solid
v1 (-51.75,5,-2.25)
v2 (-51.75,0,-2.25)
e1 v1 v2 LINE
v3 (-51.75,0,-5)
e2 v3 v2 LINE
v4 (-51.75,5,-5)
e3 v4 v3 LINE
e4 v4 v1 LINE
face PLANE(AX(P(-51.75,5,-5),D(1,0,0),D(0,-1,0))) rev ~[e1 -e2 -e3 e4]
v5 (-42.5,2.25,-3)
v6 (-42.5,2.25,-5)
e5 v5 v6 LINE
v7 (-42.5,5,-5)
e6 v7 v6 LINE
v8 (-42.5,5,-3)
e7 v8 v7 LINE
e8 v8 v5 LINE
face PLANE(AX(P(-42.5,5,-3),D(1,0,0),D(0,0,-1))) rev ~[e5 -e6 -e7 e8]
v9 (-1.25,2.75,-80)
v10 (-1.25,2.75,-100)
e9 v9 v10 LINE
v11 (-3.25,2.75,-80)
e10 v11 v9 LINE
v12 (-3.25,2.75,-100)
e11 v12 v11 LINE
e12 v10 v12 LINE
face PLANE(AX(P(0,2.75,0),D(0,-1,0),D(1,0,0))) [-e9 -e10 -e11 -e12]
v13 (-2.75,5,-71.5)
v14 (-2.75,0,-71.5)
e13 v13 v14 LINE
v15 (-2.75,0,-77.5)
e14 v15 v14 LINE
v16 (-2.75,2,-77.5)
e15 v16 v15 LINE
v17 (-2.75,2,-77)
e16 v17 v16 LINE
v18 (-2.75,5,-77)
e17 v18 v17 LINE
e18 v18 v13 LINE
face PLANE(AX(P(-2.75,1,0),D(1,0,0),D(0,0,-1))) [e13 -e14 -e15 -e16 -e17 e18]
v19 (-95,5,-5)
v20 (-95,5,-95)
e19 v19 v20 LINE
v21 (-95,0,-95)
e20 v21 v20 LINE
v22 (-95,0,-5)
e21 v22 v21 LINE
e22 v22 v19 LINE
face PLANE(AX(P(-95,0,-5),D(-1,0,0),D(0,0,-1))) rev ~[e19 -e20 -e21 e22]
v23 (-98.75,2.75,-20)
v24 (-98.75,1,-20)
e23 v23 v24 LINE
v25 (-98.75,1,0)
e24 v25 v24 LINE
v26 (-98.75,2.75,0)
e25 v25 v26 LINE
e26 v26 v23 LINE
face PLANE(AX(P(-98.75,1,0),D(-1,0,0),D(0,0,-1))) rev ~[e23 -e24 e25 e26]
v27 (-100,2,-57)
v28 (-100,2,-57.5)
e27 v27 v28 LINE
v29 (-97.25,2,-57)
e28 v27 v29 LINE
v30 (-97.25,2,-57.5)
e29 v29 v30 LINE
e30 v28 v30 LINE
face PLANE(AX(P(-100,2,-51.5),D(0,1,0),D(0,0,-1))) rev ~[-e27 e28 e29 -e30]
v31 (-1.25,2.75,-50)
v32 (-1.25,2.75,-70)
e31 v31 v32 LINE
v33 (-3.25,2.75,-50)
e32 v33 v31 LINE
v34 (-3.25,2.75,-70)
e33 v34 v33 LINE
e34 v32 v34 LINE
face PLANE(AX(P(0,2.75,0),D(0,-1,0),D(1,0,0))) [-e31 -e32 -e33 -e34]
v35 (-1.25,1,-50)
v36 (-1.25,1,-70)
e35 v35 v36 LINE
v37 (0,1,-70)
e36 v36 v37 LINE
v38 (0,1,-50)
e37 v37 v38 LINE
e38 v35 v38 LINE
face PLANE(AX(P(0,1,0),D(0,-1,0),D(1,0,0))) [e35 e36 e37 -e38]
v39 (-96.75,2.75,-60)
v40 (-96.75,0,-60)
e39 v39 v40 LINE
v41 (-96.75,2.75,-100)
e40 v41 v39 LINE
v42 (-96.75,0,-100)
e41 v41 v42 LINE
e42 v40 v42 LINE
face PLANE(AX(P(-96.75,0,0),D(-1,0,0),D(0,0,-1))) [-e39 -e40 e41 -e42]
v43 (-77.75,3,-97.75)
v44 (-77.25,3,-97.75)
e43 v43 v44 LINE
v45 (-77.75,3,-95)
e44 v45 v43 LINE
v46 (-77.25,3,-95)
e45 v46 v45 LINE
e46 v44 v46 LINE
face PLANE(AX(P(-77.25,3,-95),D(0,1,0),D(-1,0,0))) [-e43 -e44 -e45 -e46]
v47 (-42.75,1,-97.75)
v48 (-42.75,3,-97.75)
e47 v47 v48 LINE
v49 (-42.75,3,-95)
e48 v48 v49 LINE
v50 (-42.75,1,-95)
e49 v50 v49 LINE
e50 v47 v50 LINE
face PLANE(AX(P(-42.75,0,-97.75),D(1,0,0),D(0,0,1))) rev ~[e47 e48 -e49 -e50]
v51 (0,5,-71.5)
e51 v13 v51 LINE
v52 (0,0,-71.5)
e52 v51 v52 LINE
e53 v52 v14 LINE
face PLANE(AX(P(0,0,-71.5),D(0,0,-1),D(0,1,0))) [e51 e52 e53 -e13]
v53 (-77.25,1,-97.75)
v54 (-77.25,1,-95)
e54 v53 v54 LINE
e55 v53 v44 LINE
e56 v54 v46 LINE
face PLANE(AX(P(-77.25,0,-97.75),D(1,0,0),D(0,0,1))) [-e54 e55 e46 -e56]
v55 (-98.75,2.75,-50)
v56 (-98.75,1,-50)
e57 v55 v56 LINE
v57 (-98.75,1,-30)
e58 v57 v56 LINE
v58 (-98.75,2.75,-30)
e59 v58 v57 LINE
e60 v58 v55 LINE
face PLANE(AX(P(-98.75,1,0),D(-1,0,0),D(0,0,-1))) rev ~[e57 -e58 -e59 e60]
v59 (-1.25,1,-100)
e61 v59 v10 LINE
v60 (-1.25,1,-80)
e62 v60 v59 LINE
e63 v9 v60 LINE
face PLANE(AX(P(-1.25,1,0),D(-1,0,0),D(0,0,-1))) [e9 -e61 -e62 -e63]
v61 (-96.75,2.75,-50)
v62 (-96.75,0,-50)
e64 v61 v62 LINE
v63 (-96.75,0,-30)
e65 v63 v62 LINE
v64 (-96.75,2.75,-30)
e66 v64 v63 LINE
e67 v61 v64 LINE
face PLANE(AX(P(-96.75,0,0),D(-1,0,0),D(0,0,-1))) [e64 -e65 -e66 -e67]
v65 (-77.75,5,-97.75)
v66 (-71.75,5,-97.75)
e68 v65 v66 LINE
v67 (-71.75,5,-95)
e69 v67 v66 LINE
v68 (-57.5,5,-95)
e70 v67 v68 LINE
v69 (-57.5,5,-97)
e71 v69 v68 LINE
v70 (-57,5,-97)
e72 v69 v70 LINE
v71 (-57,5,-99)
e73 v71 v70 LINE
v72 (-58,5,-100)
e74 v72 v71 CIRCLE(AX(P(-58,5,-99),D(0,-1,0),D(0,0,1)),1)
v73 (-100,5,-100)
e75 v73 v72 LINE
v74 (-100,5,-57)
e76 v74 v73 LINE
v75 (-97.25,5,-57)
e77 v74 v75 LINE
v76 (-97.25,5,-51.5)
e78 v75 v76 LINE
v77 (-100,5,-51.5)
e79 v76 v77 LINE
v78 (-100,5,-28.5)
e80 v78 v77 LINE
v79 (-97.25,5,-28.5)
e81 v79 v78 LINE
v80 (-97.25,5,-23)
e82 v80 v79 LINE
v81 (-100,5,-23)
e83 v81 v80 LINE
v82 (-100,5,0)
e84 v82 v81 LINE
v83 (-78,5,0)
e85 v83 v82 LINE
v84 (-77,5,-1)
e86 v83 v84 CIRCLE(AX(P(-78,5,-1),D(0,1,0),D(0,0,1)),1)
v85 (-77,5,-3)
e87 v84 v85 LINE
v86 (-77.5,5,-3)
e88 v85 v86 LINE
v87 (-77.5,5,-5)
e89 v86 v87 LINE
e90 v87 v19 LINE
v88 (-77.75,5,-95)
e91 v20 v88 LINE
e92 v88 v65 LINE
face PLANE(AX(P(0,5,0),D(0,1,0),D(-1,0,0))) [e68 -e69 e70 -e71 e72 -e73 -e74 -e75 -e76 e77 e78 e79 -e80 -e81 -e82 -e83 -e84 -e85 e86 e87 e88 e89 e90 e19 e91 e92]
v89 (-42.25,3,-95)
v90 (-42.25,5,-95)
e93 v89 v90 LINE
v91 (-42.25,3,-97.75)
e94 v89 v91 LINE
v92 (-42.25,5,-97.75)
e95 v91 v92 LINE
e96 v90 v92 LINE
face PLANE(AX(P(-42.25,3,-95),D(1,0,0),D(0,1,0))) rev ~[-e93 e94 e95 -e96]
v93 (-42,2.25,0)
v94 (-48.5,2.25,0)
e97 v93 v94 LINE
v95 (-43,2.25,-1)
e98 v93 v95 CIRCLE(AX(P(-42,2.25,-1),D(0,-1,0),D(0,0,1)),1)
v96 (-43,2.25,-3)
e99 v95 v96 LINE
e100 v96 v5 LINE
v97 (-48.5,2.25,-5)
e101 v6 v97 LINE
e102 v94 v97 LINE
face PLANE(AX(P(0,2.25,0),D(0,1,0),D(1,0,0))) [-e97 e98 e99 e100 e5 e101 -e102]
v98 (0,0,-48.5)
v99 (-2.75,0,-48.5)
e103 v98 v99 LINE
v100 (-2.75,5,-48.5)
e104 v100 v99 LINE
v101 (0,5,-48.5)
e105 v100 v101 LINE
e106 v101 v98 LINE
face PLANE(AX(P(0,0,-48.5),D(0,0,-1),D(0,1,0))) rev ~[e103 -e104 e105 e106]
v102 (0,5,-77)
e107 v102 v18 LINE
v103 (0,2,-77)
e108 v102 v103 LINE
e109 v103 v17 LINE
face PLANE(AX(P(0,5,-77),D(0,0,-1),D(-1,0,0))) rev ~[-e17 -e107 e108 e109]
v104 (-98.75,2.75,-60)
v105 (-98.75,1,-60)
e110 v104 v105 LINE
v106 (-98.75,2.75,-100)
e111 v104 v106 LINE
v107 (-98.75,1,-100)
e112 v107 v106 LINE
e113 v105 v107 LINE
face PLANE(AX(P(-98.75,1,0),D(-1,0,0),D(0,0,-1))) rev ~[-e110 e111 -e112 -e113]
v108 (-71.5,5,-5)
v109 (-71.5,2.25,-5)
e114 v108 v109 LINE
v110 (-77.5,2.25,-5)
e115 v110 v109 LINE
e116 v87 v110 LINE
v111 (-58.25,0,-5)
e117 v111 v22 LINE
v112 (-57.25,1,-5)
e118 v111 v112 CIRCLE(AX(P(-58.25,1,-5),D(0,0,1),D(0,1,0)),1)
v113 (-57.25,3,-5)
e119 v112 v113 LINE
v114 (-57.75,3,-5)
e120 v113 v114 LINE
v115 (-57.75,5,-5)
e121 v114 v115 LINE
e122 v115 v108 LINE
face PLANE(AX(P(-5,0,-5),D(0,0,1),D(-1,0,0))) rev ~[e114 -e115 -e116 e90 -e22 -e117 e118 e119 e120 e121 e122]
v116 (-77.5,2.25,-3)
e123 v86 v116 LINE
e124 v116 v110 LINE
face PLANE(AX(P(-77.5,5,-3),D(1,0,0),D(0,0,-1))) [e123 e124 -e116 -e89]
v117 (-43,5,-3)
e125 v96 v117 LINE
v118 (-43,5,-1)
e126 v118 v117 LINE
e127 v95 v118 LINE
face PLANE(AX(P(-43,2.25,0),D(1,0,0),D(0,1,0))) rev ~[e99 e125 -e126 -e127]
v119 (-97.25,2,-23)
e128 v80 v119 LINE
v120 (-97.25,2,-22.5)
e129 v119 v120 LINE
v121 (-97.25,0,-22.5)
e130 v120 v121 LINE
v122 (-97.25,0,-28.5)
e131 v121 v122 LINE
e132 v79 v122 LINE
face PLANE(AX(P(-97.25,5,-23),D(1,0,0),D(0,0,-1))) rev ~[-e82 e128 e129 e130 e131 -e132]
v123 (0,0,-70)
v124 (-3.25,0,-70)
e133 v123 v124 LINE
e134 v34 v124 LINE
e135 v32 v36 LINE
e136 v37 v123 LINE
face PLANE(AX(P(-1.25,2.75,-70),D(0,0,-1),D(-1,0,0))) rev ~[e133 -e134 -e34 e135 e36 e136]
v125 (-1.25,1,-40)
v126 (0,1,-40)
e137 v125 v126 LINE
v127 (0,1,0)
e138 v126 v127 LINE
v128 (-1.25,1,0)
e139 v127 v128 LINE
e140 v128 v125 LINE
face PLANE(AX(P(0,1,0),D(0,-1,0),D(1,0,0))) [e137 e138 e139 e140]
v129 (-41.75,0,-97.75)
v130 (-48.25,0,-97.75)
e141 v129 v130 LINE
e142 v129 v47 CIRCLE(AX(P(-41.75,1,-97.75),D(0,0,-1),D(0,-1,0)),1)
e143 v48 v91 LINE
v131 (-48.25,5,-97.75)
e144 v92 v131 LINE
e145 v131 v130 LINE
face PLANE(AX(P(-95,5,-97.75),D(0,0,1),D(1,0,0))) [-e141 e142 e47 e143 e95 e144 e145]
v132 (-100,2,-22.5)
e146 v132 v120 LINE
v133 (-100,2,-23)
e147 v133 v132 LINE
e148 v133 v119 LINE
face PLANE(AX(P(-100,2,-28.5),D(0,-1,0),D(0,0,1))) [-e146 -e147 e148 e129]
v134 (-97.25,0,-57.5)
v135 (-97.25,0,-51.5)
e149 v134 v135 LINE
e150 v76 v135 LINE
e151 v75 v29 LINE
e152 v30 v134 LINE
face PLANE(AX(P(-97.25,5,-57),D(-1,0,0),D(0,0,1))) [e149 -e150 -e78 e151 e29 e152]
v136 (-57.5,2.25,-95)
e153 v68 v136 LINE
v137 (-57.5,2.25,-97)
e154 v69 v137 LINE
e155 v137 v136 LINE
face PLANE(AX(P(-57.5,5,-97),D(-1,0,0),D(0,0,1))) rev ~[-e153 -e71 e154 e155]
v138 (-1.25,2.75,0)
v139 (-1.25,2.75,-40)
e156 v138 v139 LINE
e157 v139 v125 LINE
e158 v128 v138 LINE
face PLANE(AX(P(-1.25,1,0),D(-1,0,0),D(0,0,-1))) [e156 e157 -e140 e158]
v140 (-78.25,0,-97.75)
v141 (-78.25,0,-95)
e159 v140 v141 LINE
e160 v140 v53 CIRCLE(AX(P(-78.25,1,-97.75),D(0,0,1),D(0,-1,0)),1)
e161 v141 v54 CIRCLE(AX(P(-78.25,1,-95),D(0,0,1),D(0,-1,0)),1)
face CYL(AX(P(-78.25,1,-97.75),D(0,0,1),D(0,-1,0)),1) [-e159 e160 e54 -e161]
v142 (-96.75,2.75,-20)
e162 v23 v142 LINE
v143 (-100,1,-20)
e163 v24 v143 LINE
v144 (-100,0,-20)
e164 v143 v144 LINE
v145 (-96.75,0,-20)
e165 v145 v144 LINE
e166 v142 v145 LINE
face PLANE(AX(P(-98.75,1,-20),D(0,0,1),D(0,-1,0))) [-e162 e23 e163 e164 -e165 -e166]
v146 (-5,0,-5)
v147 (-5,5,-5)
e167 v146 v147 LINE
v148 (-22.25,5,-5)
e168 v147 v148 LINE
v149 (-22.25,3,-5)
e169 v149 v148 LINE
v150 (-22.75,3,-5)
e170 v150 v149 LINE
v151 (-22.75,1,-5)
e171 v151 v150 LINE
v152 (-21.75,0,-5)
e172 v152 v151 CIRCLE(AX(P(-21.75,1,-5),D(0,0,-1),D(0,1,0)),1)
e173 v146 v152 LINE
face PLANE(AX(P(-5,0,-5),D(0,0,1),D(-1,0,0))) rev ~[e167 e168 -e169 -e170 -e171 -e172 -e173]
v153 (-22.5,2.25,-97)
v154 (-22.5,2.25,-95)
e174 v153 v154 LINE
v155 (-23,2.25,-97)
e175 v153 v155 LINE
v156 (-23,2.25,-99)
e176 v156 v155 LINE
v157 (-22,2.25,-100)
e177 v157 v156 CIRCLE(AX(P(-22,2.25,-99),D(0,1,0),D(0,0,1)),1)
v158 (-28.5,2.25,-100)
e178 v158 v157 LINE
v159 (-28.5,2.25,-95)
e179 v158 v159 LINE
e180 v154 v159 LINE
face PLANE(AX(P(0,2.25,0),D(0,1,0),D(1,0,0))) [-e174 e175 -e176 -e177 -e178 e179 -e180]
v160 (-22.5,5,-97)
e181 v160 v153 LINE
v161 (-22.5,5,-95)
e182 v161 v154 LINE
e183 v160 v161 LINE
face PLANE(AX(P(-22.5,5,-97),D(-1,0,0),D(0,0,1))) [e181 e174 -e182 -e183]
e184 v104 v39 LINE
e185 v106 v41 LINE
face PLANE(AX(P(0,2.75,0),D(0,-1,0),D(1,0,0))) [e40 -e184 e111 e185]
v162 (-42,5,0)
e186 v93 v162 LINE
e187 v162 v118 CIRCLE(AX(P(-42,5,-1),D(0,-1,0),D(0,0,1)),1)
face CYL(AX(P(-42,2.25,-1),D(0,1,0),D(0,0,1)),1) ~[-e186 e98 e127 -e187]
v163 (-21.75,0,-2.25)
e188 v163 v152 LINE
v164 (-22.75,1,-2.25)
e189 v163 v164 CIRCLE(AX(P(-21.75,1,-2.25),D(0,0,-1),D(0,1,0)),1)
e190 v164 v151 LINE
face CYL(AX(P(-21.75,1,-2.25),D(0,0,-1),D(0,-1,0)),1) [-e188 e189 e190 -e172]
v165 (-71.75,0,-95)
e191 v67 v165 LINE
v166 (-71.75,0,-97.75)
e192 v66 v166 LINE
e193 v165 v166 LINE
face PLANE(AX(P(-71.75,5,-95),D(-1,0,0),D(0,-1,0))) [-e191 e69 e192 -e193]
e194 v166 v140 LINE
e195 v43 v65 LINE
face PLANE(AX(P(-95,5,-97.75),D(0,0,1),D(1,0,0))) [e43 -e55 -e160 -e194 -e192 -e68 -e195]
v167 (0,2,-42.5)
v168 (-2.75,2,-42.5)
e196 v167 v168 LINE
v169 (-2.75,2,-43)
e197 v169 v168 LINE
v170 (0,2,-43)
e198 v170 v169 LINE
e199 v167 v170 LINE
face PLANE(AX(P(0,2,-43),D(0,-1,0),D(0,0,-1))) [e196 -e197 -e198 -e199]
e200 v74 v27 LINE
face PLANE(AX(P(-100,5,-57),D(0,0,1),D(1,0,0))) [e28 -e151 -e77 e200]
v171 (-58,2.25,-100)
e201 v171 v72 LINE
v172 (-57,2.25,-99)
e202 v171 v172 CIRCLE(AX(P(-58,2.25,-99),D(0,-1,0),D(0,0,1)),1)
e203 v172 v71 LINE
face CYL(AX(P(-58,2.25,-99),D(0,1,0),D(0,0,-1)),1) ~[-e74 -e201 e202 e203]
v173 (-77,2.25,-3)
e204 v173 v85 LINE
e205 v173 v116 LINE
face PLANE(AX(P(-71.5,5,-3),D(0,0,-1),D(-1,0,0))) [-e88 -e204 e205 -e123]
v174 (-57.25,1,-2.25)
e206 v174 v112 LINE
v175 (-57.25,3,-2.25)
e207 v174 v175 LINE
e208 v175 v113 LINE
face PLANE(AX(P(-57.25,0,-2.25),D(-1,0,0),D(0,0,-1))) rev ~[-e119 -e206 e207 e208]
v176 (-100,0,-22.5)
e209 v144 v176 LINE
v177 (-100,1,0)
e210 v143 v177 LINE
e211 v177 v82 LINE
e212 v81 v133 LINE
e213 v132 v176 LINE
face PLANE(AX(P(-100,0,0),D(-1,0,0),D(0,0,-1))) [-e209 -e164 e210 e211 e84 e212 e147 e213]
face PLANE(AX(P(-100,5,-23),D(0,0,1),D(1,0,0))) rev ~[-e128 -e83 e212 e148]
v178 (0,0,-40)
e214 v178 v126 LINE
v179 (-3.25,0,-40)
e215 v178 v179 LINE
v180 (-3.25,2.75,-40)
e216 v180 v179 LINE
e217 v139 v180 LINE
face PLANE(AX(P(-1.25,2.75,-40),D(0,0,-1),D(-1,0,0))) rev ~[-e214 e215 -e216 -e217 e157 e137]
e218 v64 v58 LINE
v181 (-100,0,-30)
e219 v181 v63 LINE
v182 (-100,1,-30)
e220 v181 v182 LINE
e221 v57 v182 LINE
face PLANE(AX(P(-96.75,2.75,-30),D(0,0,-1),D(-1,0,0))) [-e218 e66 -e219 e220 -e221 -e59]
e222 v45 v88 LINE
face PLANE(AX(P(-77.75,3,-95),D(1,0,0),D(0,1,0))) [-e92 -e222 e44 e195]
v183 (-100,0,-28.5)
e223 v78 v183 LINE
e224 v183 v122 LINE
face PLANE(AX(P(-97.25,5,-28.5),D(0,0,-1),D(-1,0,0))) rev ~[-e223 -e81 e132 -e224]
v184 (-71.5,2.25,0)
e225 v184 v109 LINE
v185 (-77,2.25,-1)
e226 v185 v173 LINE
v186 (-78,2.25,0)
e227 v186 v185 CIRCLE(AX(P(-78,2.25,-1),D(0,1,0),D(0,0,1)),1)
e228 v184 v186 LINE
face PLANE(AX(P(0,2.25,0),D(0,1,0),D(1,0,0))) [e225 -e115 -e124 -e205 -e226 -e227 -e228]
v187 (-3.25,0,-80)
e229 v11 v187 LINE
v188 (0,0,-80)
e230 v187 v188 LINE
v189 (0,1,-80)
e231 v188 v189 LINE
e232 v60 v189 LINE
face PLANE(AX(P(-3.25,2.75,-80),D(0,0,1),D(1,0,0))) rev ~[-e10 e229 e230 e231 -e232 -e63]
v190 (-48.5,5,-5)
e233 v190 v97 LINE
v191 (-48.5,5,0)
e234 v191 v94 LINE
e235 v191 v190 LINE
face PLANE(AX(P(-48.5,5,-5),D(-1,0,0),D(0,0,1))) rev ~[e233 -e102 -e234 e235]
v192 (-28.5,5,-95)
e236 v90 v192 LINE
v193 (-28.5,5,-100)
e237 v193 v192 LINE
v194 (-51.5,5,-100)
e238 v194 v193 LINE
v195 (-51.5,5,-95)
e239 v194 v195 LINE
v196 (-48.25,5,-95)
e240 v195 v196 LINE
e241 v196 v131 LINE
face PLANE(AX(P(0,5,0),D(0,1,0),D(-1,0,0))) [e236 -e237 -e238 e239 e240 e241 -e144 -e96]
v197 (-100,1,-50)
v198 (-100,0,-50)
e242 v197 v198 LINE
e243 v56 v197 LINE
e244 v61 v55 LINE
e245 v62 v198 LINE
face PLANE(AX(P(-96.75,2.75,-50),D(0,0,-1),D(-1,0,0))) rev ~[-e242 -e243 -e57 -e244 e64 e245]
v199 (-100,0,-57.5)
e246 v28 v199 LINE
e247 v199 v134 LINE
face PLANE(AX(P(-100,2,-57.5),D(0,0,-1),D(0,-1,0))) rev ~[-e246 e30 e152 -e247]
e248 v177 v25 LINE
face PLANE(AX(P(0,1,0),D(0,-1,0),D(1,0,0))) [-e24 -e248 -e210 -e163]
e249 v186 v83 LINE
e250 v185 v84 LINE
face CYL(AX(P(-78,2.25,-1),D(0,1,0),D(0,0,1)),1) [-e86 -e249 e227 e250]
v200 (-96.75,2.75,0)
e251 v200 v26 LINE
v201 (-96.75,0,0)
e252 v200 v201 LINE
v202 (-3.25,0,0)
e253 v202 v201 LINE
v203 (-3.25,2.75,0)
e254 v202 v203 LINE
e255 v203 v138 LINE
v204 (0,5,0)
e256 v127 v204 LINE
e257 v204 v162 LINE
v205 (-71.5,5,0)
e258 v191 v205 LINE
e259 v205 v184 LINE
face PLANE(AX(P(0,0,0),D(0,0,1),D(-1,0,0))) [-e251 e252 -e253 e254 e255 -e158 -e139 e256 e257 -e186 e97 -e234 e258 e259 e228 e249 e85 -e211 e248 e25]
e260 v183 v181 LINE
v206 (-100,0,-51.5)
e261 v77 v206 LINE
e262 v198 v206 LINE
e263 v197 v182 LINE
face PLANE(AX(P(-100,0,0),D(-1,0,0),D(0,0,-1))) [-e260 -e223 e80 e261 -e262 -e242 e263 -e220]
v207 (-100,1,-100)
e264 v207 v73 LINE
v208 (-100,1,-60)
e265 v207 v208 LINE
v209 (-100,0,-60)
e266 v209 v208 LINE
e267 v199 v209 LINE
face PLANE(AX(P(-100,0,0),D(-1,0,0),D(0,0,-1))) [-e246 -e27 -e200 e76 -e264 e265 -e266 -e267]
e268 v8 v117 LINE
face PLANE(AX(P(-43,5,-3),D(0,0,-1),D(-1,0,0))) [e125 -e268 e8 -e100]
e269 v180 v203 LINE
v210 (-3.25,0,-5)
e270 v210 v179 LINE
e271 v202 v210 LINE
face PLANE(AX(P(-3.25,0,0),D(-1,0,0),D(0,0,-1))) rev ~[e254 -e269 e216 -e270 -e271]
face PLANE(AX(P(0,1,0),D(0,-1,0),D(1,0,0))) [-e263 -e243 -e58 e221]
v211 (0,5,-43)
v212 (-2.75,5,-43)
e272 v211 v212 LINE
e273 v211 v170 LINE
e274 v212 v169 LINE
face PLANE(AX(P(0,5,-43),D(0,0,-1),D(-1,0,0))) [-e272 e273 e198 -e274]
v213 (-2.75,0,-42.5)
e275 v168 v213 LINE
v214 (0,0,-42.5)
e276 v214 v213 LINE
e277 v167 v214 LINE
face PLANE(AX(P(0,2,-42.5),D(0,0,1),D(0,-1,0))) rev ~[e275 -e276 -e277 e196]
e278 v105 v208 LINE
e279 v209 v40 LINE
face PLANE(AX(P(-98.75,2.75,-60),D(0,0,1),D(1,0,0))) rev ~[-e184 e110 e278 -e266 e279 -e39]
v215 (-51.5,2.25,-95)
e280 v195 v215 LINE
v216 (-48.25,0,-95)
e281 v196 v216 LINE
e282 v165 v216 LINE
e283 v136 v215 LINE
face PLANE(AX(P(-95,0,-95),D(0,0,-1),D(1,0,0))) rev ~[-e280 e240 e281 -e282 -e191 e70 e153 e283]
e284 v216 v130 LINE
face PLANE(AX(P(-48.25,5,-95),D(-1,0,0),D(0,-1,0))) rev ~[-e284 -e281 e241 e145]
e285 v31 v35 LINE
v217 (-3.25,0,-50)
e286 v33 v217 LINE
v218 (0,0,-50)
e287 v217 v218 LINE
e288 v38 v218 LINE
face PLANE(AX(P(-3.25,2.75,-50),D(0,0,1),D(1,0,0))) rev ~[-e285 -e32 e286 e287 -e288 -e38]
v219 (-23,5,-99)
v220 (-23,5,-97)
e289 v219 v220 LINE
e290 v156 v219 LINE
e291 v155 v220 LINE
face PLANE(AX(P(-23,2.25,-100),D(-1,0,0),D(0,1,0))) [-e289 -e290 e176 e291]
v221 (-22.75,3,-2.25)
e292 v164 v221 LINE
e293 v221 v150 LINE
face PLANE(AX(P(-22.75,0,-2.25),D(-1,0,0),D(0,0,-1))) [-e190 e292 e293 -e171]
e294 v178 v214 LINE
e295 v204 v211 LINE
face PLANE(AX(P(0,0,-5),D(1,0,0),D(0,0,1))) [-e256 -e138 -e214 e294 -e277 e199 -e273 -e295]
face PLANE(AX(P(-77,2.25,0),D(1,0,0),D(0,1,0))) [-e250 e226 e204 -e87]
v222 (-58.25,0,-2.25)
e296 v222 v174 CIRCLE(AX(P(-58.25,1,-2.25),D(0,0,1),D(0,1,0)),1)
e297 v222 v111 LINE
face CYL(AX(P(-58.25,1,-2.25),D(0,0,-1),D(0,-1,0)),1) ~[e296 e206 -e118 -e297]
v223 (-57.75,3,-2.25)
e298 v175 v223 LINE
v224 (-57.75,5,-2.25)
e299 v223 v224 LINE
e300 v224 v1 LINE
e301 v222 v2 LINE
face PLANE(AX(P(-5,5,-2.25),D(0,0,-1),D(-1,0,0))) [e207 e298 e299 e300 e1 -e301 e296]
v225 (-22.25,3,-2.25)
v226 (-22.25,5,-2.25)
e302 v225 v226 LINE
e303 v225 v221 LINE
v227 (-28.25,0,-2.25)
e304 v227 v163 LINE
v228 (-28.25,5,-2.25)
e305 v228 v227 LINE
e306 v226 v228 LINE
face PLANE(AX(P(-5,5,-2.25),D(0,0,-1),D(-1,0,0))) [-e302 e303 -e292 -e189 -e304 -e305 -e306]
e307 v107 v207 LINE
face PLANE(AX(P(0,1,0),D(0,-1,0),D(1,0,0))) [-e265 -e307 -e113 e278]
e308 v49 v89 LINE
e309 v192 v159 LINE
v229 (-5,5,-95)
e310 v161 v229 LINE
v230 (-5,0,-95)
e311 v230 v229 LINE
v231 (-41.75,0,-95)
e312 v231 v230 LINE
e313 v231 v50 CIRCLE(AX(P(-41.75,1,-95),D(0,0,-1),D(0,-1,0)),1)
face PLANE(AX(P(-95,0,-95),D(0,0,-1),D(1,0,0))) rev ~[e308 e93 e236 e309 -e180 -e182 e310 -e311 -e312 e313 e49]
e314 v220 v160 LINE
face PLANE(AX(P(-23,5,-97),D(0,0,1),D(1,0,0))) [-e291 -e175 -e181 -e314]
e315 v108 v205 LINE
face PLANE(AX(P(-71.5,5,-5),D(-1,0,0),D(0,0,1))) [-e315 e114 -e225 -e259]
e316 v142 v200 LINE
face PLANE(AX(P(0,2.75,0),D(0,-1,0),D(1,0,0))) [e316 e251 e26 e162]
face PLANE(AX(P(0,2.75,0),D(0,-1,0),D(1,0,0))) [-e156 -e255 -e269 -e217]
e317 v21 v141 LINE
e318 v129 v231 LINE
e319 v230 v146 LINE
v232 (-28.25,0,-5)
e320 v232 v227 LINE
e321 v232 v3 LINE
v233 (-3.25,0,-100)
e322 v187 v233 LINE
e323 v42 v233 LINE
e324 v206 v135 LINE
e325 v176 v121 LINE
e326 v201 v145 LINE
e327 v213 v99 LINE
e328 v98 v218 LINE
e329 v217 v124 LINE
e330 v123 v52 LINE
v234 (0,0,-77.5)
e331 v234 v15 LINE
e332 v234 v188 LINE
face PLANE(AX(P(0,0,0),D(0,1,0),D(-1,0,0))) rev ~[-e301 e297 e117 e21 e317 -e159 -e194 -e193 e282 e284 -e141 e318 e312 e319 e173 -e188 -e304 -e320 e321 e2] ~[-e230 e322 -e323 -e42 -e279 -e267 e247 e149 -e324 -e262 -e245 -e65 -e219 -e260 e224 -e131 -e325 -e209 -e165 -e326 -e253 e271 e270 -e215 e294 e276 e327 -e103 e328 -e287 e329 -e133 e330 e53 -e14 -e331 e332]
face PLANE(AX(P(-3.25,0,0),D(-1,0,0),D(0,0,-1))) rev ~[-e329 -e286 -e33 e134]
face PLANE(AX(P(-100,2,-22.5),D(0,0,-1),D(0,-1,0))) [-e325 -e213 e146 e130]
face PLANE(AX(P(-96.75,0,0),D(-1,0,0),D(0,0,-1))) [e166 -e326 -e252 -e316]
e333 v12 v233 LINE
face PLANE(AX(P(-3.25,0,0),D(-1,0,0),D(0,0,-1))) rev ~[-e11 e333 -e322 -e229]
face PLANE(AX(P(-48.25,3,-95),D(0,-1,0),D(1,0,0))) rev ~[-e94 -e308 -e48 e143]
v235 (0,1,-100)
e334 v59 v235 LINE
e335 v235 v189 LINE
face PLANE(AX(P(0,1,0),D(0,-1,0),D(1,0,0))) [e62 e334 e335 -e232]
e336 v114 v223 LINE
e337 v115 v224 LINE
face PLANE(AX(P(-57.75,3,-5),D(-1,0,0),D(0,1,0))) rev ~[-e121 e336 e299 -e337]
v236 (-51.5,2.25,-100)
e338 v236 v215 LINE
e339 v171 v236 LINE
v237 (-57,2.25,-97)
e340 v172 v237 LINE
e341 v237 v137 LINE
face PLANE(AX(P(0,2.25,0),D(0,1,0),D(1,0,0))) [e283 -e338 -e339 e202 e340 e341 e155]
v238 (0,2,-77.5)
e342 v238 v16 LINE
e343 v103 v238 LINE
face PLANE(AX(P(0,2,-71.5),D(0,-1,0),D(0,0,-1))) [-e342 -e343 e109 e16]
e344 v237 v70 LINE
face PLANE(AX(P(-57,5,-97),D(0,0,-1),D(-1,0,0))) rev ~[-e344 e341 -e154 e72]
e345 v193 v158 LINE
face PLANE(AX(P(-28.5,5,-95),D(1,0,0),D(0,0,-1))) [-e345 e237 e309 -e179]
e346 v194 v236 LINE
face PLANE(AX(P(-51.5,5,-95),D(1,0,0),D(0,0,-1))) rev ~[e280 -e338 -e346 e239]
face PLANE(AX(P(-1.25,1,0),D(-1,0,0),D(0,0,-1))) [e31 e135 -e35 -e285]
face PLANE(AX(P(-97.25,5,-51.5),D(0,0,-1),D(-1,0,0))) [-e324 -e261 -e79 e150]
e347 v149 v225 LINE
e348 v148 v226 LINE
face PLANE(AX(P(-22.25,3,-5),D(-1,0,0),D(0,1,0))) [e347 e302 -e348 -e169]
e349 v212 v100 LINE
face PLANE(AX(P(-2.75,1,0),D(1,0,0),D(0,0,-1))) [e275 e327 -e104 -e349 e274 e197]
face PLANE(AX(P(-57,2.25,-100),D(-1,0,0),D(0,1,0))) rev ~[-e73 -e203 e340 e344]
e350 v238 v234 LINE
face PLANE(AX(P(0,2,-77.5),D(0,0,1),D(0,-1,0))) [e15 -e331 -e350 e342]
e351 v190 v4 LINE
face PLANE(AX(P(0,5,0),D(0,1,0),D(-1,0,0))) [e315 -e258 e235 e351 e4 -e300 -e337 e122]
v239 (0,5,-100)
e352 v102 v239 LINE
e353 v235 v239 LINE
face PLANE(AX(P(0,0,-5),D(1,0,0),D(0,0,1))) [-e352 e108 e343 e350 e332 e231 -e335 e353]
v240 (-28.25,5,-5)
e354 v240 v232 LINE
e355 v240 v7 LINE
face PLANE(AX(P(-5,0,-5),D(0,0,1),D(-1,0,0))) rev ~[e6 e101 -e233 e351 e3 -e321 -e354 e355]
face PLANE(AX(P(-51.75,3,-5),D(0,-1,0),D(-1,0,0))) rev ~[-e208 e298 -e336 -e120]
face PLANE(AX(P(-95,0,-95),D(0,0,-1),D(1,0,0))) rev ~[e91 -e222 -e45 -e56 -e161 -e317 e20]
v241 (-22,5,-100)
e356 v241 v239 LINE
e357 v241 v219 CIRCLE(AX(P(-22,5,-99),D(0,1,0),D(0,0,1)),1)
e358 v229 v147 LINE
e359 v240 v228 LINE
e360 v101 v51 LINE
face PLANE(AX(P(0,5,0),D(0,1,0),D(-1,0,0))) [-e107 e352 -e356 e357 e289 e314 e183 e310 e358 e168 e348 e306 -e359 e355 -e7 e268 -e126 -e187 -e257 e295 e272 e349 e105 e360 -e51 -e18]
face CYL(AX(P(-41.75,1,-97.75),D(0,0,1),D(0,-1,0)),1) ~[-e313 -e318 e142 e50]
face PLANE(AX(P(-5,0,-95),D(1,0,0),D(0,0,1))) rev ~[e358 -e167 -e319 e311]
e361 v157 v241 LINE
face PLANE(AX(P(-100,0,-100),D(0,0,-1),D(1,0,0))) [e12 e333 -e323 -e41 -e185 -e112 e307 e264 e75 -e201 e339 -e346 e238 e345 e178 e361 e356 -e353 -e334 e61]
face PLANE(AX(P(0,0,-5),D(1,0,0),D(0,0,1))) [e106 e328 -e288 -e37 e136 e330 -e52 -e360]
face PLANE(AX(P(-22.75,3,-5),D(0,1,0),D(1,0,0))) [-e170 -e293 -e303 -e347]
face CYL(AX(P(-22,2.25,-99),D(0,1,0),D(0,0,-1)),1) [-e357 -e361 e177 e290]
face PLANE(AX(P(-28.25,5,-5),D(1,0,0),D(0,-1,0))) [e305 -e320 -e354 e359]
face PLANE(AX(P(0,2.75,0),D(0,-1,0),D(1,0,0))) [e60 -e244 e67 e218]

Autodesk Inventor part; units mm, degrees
ref_plane "YZ Plane" through (0, 0, 0) normal (1, 0, 0) x (0, 1, 0)
ref_plane "XZ Plane" through (0, 0, 0) normal (0, 1, 0) x (-1, 0, 0)
ref_plane "XY Plane" through (0, 0, 0) normal (0, 0, 1) x (1, 0, 0)
sketch "Sketch1" plane through (0, 0, 0) normal (0, 1, 0) x (-1, 0, 0)
  line L0 (0, 0) -> (100, 0)
  line L1 (100, 0) -> (100, -100)
  line L2 (100, -100) -> (0, -100)
  line L3 (0, -100) -> (0, 0)
  line L4 (5, -5) -> (95, -5)
  line L5 (95, -5) -> (95, -95)
  line L6 (95, -95) -> (5, -95)
  line L7 (5, -95) -> (5, -5)
  line L8 (0, 0) -> (0, -5)
  line L9 (0, -5) -> (5, -5)
  dimension "d0" = 100
  dimension "d1" = 100
  dimension "d2" = 90
  dimension "d3" = 90
  dimension "d4" = 5
  dimension "d5" = 5
extrude "Extrusion1" add sketch "Sketch1" along normal blind 5
sketch "Sketch2" plane through (0, 0, 0) normal (0, -1, 0) x (1, 0, 0)
  circle A0 centre (-20, 6) radius 2
  line L0 (-20, 6) -> (-23.9485, 9.8906)
  line L1 (-23.9485, 9.8906) -> (-21.7943, 9.8906)
  line L2 (-21.7943, 9.8906) -> (-23.9485, 9.8906)
  line L3 (-23.9485, 9.8906) -> (-23.9485, 7.9453)
  arc A1 (2.0531, -40.1608) -> (5.7851, -40.1608) centre (3.9191, -39.7302) ccw
  arc A2 (9.4213, -40.1608) -> (5.7851, -40.1608) centre (7.6032, -41.1873) ccw
  point P0 (0, 0)
  dimension "d8" = 4
sketch "Sketch3" plane through (0, 0, 0) normal (0, -1, 0) x (1, 0, 0)
  line L0 (0, 0) -> (0, -100) projected
  line L1 (0, 0) -> (0, -5)
  line L2 (0, -5) -> (-20, -5)
  line L3 (-5, -5) -> (-95, -5) projected
  line L4 (-20, -5) -> (-30, -5)
  line L5 (-30, -5) -> (-50, -5)
  line L6 (-50, -5) -> (-60, -5)
  line L7 (-100, -100) -> (-100, 0) projected
  line L8 (-100, -100) -> (-100, -95)
  line L9 (-100, -95) -> (-80, -95)
  line L10 (-95, -95) -> (-5, -95) projected
  line L11 (-80, -95) -> (-70, -95)
  line L12 (-70, -95) -> (-50, -95)
  line L13 (-50, -95) -> (-40, -95)
  line L14 (-20, -5) -> (-22.75, -5)
  line L15 (-22.75, -5) -> (-28.25, -5)
  line L16 (-28.25, -5) -> (-28.25, -2.25)
  line L17 (-28.25, -2.25) -> (-22.75, -2.25)
  line L18 (-22.75, -2.25) -> (-22.75, -5)
  line L19 (-60, -5) -> (-57.25, -5)
  line L20 (-57.25, -5) -> (-51.75, -5)
  line L21 (-51.75, -5) -> (-51.75, -2.25)
  line L22 (-51.75, -2.25) -> (-57.25, -2.25)
  line L23 (-57.25, -2.25) -> (-57.25, -5)
  line L24 (-40, -95) -> (-42.75, -95)
  line L25 (-42.75, -95) -> (-48.25, -95)
  line L26 (-48.25, -95) -> (-48.25, -97.75)
  line L27 (-48.25, -97.75) -> (-42.75, -97.75)
  line L28 (-42.75, -97.75) -> (-42.75, -95)
  line L29 (-80, -95) -> (-77.25, -95)
  line L30 (-77.25, -95) -> (-71.75, -95)
  line L31 (-71.75, -95) -> (-71.75, -97.75)
  line L32 (-71.75, -97.75) -> (-77.25, -97.75)
  line L33 (-77.25, -97.75) -> (-77.25, -95)
  dimension "d9" = 5
  dimension "d10" = 20
  dimension "d11" = 10
  dimension "d12" = 20
  dimension "d13" = 10
  dimension "d14" = 5
  dimension "d15" = 20
  dimension "d16" = 10
  dimension "d17" = 20
  dimension "d18" = 10
  dimension "d19" = 2.75
  dimension "d20" = 5.5
  dimension "d21" = 2.75
  dimension "d22" = 2.75
  dimension "d23" = 5.5
  dimension "d24" = 2.75
  dimension "d25" = 2.75
  dimension "d26" = 5.5
  dimension "d27" = 2.75
  dimension "d28" = 2.75
  dimension "d29" = 5.5
  dimension "d30" = 2.75
extrude "Extrusion2" cut sketch "Sketch3" against normal blind 3
sketch "Sketch4" plane through (0, 0, 0) normal (0, -1, 0) x (1, 0, 0)
  line L0 (0, 0) -> (-3.25, 0)
  line L1 (-3.25, 0) -> (-3.25, -100)
  line L2 (-3.25, -100) -> (0, -100)
  line L3 (0, -100) -> (0, 0)
  line L4 (-100, 0) -> (0, 0) projected
  line L5 (-100, 0) -> (-96.75, 0)
  line L6 (-96.75, 0) -> (-96.75, -100)
  line L7 (-96.75, -100) -> (-100, -100)
  line L8 (-100, -100) -> (-100, 0)
  dimension "d33" = 3.25
  dimension "d34" = 100
  dimension "d35" = 3.25
  dimension "d36" = 100
extrude "Extrusion3" cut sketch "Sketch4" against normal blind 1
sketch "Sketch5" plane through (0, 1, 0) normal (0, -1, 0) x (1, 0, 0)
  line L0 (-3.25, -100) -> (-3.25, 0) projected
  line L1 (-3.25, 0) -> (-1.25, 0)
  line L2 (-1.25, 0) -> (-1.25, -100)
  line L3 (-1.25, -100) -> (-3.25, -100)
  line L4 (-3.25, -100) -> (-3.25, 0)
  line L5 (-96.75, 0) -> (-3.25, 0) projected
  line L6 (-96.75, 0) -> (-98.75, 0)
  line L7 (-98.75, 0) -> (-98.75, -100)
  line L8 (-98.75, -100) -> (-96.75, -100)
  line L9 (-96.75, -100) -> (-96.75, 0)
  point P0 (0, 0)
  dimension "d39" = 2
  dimension "d40" = 100
  dimension "d41" = 2
  dimension "d42" = 100
extrude "Extrusion4" cut sketch "Sketch5" against normal blind 1.75
sketch "Sketch6" plane through (-5, 5, -5) normal (0, 0, -1) x (-1, 0, 0)
  line L0 (17.75, -2) -> (23.25, -2) projected
  line L1 (23.25, -2) -> (17.25, -2)
  line L2 (17.25, -2) -> (17.25, 0)
  line L3 (17.25, 0) -> (23.25, 0)
  line L4 (23.25, 0) -> (23.25, -2)
  line L5 (46.75, -5) -> (46.75, -2) projected
  line L6 (46.75, -2) -> (52.75, -2)
  line L7 (52.75, -2) -> (52.75, 0)
  line L8 (52.75, 0) -> (46.75, 0)
  line L9 (46.75, 0) -> (46.75, -2)
  point P0 (-5, -5)
  dimension "d47" = 6
  dimension "d48" = 2
  dimension "d49" = 6
  dimension "d50" = 2
extrude "Extrusion5" cut sketch "Sketch6" against normal blind 2.75
sketch "Sketch7" plane through (-95, 5, -95) normal (0, 0, 1) x (1, 0, 0)
  line L0 (17.75, -2) -> (23.25, -2) projected
  line L1 (23.25, -2) -> (17.25, -2)
  line L2 (17.25, -2) -> (17.25, 0)
  line L3 (17.25, 0) -> (23.25, 0)
  line L4 (23.25, 0) -> (23.25, -2)
  line L5 (46.75, -5) -> (46.75, -2) projected
  line L6 (46.75, -2) -> (52.75, -2)
  line L7 (52.75, -2) -> (52.75, 0)
  line L8 (52.75, 0) -> (46.75, 0)
  line L9 (46.75, 0) -> (46.75, -2)
  point P0 (95, -5)
  dimension "d53" = 6
  dimension "d54" = 2
  dimension "d55" = 6
  dimension "d56" = 2
extrude "Extrusion6" cut sketch "Sketch7" against normal blind 2.75
fillet "Fillet1" radius 1 4 edges at (-77.25, 0, -96.375) (-42.75, 0, -96.375) (-22.75, 0, -3.625) (-57.25, 0, -3.625)
sketch "Sketch8" plane through (-100, 5, 0) normal (0, 0, 1) x (1, 0, 0)
  line L0 (0, -4) -> (0, 0) projected
  line L1 (0, 0) -> (20, 0)
  line L2 (20, 0) -> (30, 0)
  line L3 (30, 0) -> (50, 0)
  line L4 (50, 0) -> (60, 0)
  line L5 (60, 0) -> (57, 0)
  line L6 (0, 0) -> (100, 0) projected
  line L7 (57, 0) -> (51.5, 0)
  line L8 (51.5, 0) -> (51.5, -2.75)
  line L9 (51.5, -2.75) -> (57, -2.75)
  line L10 (57, -2.75) -> (57, 0)
  line L11 (20, 0) -> (23, 0)
  line L12 (23, 0) -> (28.5, 0)
  line L13 (28.5, 0) -> (28.5, -2.75)
  line L14 (28.5, -2.75) -> (23, -2.75)
  line L15 (23, -2.75) -> (23, 0)
  point P0 (100, -5)
  dimension "d60" = 20
  dimension "d61" = 10
  dimension "d62" = 20
  dimension "d63" = 10
  dimension "d64" = 3
  dimension "d65" = 5.5
  dimension "d66" = 2.75
  dimension "d67" = 3
  dimension "d68" = 5.5
  dimension "d69" = 2.75
extrude "Extrusion7" cut sketch "Sketch8" against normal blind 3
sketch "Sketch9" plane through (0, 5, 0) normal (0, 1, 0) x (1, 0, 0)
  line L0 (-43, 3) -> (-48.5, 3) projected
  line L1 (-48.5, 3) -> (-42.5, 3)
  line L2 (-42.5, 3) -> (-42.5, 5)
  line L3 (-42.5, 5) -> (-48.5, 5)
  line L4 (-48.5, 5) -> (-48.5, 3)
  line L5 (-71.5, 3) -> (-77.5, 3)
  line L6 (-77.5, 3) -> (-77.5, 5)
  line L7 (-77.5, 5) -> (-71.5, 5)
  line L8 (-71.5, 5) -> (-71.5, 3)
  point P0 (0, 0)
  dimension "d72" = 6
  dimension "d73" = 2
  dimension "d74" = 6
  dimension "d75" = 2
extrude "Extrusion8" cut sketch "Sketch9" against normal blind 2.75
sketch "Sketch10" plane through (0, 5, -100) normal (0, 0, -1) x (-1, 0, 0)
  line L0 (0, 0) -> (100, 0) projected
  line L1 (0, 0) -> (20, 0)
  line L2 (20, 0) -> (30, 0)
  line L3 (30, 0) -> (50, 0)
  line L4 (50, 0) -> (60, 0)
  line L5 (60, 0) -> (57, 0)
  line L6 (57, 0) -> (51.5, 0)
  line L7 (51.5, 0) -> (51.5, -2.75)
  line L8 (51.5, -2.75) -> (57, -2.75)
  line L9 (57, -2.75) -> (57, 0)
  line L10 (20, 0) -> (23, 0)
  line L11 (23, 0) -> (28.5, 0)
  line L12 (28.5, 0) -> (28.5, -2.75)
  line L13 (28.5, -2.75) -> (23, -2.75)
  line L14 (23, -2.75) -> (23, 0)
  point P0 (0, -5)
  dimension "d78" = 20
  dimension "d79" = 10
  dimension "d80" = 20
  dimension "d81" = 10
  dimension "d82" = 3
  dimension "d83" = 5.5
  dimension "d84" = 2.75
  dimension "d85" = 3
  dimension "d86" = 5.5
  dimension "d87" = 2.75
extrude "Extrusion9" cut sketch "Sketch10" against normal blind 3
sketch "Sketch11" plane through (0, 5, 0) normal (0, 1, 0) x (1, 0, 0)
  line L0 (-51.5, 97) -> (-57, 97) projected
  line L1 (-51.5, 97) -> (-57.5, 97)
  line L2 (-57.5, 97) -> (-57.5, 95)
  line L3 (-57.5, 95) -> (-51.5, 95)
  line L4 (-51.5, 95) -> (-51.5, 97)
  line L5 (-23, 97) -> (-28.5, 97) projected
  line L6 (-28.5, 97) -> (-22.5, 97)
  line L7 (-22.5, 97) -> (-22.5, 95)
  line L8 (-22.5, 95) -> (-28.5, 95)
  line L9 (-28.5, 95) -> (-28.5, 97)
  point P0 (0, 0)
  dimension "d90" = 6
  dimension "d91" = 2
  dimension "d92" = 6
  dimension "d93" = 2
extrude "Extrusion10" cut sketch "Sketch11" against normal blind 2.75
fillet "Fillet2" radius 1 4 edges at (-57, 3.625, -100) (-23, 3.625, -100) (-77, 3.625, 0) (-43, 3.625, 0)
sketch "Sketch12" plane through (0, 2.75, 0) normal (0, -1, 0) x (1, 0, 0)
  line L0 (-1.25, -100) -> (-3.25, -100) projected
  line L1 (-1.25, -100) -> (-1.25, -80)
  line L2 (-1.25, 0) -> (-1.25, -100) projected
  line L3 (-1.25, -80) -> (-1.25, -70)
  line L4 (-1.25, -70) -> (-1.25, -50)
  line L5 (-1.25, -50) -> (-1.25, -40)
  line L6 (-3.25, -100) -> (-3.25, 0) projected
  line L7 (-1.25, -40) -> (-3.25, -40)
  line L8 (-3.25, -40) -> (-3.25, -50)
  line L9 (-3.25, -50) -> (-1.25, -50)
  line L10 (-1.25, -50) -> (-1.25, -40)
  line L11 (-1.25, -70) -> (-3.25, -70)
  line L12 (-3.25, -70) -> (-3.25, -80)
  line L13 (-3.25, -80) -> (-1.25, -80)
  line L14 (-1.25, -80) -> (-1.25, -70)
  line L15 (-98.75, -100) -> (-98.75, 0) projected
  line L16 (-98.75, 0) -> (-98.75, -20)
  line L17 (-98.75, -20) -> (-98.75, -30)
  line L18 (-98.75, -30) -> (-98.75, -50)
  line L19 (-98.75, -50) -> (-98.75, -60)
  line L20 (-96.75, 0) -> (-96.75, -100) projected
  line L21 (-98.75, -60) -> (-96.75, -60)
  line L22 (-96.75, -60) -> (-96.75, -50)
  line L23 (-96.75, -50) -> (-98.75, -50)
  line L24 (-98.75, -50) -> (-98.75, -60)
  line L25 (-98.75, -20) -> (-96.75, -20)
  line L26 (-96.75, -20) -> (-96.75, -30)
  line L27 (-96.75, -30) -> (-98.75, -30)
  line L28 (-98.75, -30) -> (-98.75, -20)
  point P0 (0, 0)
  dimension "d97" = 20
  dimension "d98" = 10
  dimension "d99" = 20
  dimension "d100" = 10
  dimension "d103" = 20
  dimension "d104" = 10
  dimension "d105" = 20
  dimension "d106" = 10
extrude "Extrusion11" add sketch "Sketch12" along normal blind 2.75 contours L13 L6 L11 L2 | L9 L6 L7 L2 | L15 L23 L20 L21 | L15 L25 L20 L27
sketch "Sketch13" plane through (-98.75, 0, -60) normal (-1, 0, 0) x (0, 0, 1)
  line L0 (60, 0) -> (40, 0) projected
  line L1 (40, 0) -> (30, 0)
  line L2 (30, 0) -> (30, 1)
  line L3 (30, 1) -> (40, 1)
  line L4 (40, 1) -> (40, 0)
  line L5 (30, 0) -> (10, 0) projected
  line L6 (10, 0) -> (0, 0)
  line L7 (0, 0) -> (0, 1)
  line L8 (0, 1) -> (10, 1)
  line L9 (10, 1) -> (10, 0)
  dimension "d107" = 10
  dimension "d108" = 1
  dimension "d109" = 10
  dimension "d110" = 1
extrude "Extrusion12" add sketch "Sketch13" along normal blind 1.25
sketch "Sketch14" plane through (-1.25, 0, -70) normal (1, 0, 0) x (0, 0, -1)
  line L0 (-65, 0) -> (25, 0) projected
  line L1 (-20, 0) -> (-30, 0)
  line L2 (-30, 0) -> (-30, 1)
  line L3 (-30, 1) -> (-20, 1)
  line L4 (-20, 1) -> (-20, 0)
  line L5 (0, 0) -> (10, 0)
  line L6 (10, 0) -> (10, 1)
  line L7 (10, 1) -> (0, 1)
  line L8 (0, 1) -> (0, 0)
  point P0 (-70, 0)
  dimension "d113" = 10
  dimension "d114" = 1
  dimension "d115" = 10
  dimension "d116" = 1
extrude "Extrusion13" add sketch "Sketch14" along normal blind 1.25
sketch "Sketch15" plane through (0, 5, 0) normal (0, 1, 0) x (1, 0, 0)
  line L0 (0, 0) -> (0, 100) projected
  line L1 (0, 100) -> (0, 80)
  line L2 (0, 80) -> (0, 70)
  line L3 (0, 70) -> (0, 50)
  line L4 (0, 50) -> (0, 40)
  line L5 (0, 40) -> (0, 43)
  line L6 (0, 40) -> (0, 50) projected
  line L7 (0, 43) -> (-2.75, 43)
  line L8 (-2.75, 43) -> (-2.75, 48.5)
  line L9 (-2.75, 48.5) -> (0, 48.5)
  line L10 (0, 48.5) -> (0, 43)
  line L11 (0, 80) -> (0, 77)
  line L12 (0, 70) -> (0, 80) projected
  line L13 (0, 77) -> (-2.75, 77)
  line L14 (-2.75, 77) -> (-2.75, 71.5)
  line L15 (-2.75, 71.5) -> (0, 71.5)
  line L16 (0, 71.5) -> (0, 77)
  line L17 (-100, 20) -> (-100, 0) projected
  line L18 (-100, 0) -> (-100, 20)
  line L19 (-100, 30) -> (-100, 20) projected
  line L20 (-100, 20) -> (-100, 30)
  line L21 (-100, 50) -> (-100, 30) projected
  line L22 (-100, 30) -> (-100, 50)
  line L23 (-100, 60) -> (-100, 50) projected
  line L24 (-100, 50) -> (-100, 60)
  line L25 (-96.75, 60) -> (-100, 60) projected
  line L26 (-100, 60) -> (-100, 57)
  line L27 (-100, 57) -> (-97.25, 57)
  line L28 (-97.25, 57) -> (-97.25, 51.5)
  line L29 (-97.25, 51.5) -> (-100, 51.5)
  line L30 (-100, 51.5) -> (-100, 57)
  line L31 (-96.75, 20) -> (-100, 20) projected
  line L32 (-100, 20) -> (-100, 23)
  line L33 (-100, 23) -> (-97.25, 23)
  line L34 (-97.25, 23) -> (-97.25, 28.5)
  line L35 (-97.25, 28.5) -> (-100, 28.5)
  line L36 (-100, 28.5) -> (-100, 23)
  dimension "d119" = 20
  dimension "d120" = 10
  dimension "d121" = 20
  dimension "d122" = 10
  dimension "d123" = 3
  dimension "d124" = 2.75
  dimension "d125" = 5.5
  dimension "d126" = 3
  dimension "d127" = 2.75
  dimension "d128" = 5.5
  dimension "d129" = 20
  dimension "d130" = 10
  dimension "d131" = 20
  dimension "d132" = 10
  dimension "d133" = 3
  dimension "d134" = 2.75
  dimension "d135" = 5.5
  dimension "d136" = 3
  dimension "d137" = 2.75
  dimension "d138" = 5.5
extrude "Extrusion14" cut sketch "Sketch15" against normal blind 3
sketch "Sketch16" plane through (0, 1, 0) normal (1, 0, 0) x (0, 0, -1)
  line L0 (43, 1) -> (48.5, 1) projected
  line L1 (48.5, 1) -> (42.5, 1)
  line L2 (42.5, 1) -> (42.5, -1)
  line L3 (42.5, -1) -> (48.5, -1)
  line L4 (48.5, -1) -> (48.5, 1)
  line L5 (71.5, 4) -> (71.5, 1) projected
  line L6 (71.5, 1) -> (77.5, 1)
  line L7 (77.5, 1) -> (77.5, -1)
  line L8 (77.5, -1) -> (71.5, -1)
  line L9 (71.5, -1) -> (71.5, 1)
  point P0 (0, -1)
  dimension "d141" = 6
  dimension "d142" = 2
  dimension "d143" = 6
  dimension "d144" = 2
extrude "Extrusion15" cut sketch "Sketch16" against normal blind 2.75
sketch "Sketch17" plane through (-100, 1, -100) normal (-1, 0, 0) x (0, 0, 1)
  line L0 (71.5, 1) -> (71.5, 4) projected
  line L1 (71.5, 1) -> (77.5, 1)
  line L2 (77.5, 1) -> (77.5, -1)
  line L3 (77.5, -1) -> (71.5, -1)
  line L4 (71.5, -1) -> (71.5, 1)
  line L5 (48.5, 4) -> (48.5, 1) projected
  line L6 (48.5, 1) -> (42.5, 1)
  line L7 (42.5, 1) -> (42.5, -1)
  line L8 (42.5, -1) -> (48.5, -1)
  line L9 (48.5, -1) -> (48.5, 1)
  point P0 (100, -1)
  dimension "d147" = 6
  dimension "d148" = 2
  dimension "d149" = 6
  dimension "d150" = 2
extrude "Extrusion16" cut sketch "Sketch17" against normal blind 2.75
properties part number "Female_Final"
